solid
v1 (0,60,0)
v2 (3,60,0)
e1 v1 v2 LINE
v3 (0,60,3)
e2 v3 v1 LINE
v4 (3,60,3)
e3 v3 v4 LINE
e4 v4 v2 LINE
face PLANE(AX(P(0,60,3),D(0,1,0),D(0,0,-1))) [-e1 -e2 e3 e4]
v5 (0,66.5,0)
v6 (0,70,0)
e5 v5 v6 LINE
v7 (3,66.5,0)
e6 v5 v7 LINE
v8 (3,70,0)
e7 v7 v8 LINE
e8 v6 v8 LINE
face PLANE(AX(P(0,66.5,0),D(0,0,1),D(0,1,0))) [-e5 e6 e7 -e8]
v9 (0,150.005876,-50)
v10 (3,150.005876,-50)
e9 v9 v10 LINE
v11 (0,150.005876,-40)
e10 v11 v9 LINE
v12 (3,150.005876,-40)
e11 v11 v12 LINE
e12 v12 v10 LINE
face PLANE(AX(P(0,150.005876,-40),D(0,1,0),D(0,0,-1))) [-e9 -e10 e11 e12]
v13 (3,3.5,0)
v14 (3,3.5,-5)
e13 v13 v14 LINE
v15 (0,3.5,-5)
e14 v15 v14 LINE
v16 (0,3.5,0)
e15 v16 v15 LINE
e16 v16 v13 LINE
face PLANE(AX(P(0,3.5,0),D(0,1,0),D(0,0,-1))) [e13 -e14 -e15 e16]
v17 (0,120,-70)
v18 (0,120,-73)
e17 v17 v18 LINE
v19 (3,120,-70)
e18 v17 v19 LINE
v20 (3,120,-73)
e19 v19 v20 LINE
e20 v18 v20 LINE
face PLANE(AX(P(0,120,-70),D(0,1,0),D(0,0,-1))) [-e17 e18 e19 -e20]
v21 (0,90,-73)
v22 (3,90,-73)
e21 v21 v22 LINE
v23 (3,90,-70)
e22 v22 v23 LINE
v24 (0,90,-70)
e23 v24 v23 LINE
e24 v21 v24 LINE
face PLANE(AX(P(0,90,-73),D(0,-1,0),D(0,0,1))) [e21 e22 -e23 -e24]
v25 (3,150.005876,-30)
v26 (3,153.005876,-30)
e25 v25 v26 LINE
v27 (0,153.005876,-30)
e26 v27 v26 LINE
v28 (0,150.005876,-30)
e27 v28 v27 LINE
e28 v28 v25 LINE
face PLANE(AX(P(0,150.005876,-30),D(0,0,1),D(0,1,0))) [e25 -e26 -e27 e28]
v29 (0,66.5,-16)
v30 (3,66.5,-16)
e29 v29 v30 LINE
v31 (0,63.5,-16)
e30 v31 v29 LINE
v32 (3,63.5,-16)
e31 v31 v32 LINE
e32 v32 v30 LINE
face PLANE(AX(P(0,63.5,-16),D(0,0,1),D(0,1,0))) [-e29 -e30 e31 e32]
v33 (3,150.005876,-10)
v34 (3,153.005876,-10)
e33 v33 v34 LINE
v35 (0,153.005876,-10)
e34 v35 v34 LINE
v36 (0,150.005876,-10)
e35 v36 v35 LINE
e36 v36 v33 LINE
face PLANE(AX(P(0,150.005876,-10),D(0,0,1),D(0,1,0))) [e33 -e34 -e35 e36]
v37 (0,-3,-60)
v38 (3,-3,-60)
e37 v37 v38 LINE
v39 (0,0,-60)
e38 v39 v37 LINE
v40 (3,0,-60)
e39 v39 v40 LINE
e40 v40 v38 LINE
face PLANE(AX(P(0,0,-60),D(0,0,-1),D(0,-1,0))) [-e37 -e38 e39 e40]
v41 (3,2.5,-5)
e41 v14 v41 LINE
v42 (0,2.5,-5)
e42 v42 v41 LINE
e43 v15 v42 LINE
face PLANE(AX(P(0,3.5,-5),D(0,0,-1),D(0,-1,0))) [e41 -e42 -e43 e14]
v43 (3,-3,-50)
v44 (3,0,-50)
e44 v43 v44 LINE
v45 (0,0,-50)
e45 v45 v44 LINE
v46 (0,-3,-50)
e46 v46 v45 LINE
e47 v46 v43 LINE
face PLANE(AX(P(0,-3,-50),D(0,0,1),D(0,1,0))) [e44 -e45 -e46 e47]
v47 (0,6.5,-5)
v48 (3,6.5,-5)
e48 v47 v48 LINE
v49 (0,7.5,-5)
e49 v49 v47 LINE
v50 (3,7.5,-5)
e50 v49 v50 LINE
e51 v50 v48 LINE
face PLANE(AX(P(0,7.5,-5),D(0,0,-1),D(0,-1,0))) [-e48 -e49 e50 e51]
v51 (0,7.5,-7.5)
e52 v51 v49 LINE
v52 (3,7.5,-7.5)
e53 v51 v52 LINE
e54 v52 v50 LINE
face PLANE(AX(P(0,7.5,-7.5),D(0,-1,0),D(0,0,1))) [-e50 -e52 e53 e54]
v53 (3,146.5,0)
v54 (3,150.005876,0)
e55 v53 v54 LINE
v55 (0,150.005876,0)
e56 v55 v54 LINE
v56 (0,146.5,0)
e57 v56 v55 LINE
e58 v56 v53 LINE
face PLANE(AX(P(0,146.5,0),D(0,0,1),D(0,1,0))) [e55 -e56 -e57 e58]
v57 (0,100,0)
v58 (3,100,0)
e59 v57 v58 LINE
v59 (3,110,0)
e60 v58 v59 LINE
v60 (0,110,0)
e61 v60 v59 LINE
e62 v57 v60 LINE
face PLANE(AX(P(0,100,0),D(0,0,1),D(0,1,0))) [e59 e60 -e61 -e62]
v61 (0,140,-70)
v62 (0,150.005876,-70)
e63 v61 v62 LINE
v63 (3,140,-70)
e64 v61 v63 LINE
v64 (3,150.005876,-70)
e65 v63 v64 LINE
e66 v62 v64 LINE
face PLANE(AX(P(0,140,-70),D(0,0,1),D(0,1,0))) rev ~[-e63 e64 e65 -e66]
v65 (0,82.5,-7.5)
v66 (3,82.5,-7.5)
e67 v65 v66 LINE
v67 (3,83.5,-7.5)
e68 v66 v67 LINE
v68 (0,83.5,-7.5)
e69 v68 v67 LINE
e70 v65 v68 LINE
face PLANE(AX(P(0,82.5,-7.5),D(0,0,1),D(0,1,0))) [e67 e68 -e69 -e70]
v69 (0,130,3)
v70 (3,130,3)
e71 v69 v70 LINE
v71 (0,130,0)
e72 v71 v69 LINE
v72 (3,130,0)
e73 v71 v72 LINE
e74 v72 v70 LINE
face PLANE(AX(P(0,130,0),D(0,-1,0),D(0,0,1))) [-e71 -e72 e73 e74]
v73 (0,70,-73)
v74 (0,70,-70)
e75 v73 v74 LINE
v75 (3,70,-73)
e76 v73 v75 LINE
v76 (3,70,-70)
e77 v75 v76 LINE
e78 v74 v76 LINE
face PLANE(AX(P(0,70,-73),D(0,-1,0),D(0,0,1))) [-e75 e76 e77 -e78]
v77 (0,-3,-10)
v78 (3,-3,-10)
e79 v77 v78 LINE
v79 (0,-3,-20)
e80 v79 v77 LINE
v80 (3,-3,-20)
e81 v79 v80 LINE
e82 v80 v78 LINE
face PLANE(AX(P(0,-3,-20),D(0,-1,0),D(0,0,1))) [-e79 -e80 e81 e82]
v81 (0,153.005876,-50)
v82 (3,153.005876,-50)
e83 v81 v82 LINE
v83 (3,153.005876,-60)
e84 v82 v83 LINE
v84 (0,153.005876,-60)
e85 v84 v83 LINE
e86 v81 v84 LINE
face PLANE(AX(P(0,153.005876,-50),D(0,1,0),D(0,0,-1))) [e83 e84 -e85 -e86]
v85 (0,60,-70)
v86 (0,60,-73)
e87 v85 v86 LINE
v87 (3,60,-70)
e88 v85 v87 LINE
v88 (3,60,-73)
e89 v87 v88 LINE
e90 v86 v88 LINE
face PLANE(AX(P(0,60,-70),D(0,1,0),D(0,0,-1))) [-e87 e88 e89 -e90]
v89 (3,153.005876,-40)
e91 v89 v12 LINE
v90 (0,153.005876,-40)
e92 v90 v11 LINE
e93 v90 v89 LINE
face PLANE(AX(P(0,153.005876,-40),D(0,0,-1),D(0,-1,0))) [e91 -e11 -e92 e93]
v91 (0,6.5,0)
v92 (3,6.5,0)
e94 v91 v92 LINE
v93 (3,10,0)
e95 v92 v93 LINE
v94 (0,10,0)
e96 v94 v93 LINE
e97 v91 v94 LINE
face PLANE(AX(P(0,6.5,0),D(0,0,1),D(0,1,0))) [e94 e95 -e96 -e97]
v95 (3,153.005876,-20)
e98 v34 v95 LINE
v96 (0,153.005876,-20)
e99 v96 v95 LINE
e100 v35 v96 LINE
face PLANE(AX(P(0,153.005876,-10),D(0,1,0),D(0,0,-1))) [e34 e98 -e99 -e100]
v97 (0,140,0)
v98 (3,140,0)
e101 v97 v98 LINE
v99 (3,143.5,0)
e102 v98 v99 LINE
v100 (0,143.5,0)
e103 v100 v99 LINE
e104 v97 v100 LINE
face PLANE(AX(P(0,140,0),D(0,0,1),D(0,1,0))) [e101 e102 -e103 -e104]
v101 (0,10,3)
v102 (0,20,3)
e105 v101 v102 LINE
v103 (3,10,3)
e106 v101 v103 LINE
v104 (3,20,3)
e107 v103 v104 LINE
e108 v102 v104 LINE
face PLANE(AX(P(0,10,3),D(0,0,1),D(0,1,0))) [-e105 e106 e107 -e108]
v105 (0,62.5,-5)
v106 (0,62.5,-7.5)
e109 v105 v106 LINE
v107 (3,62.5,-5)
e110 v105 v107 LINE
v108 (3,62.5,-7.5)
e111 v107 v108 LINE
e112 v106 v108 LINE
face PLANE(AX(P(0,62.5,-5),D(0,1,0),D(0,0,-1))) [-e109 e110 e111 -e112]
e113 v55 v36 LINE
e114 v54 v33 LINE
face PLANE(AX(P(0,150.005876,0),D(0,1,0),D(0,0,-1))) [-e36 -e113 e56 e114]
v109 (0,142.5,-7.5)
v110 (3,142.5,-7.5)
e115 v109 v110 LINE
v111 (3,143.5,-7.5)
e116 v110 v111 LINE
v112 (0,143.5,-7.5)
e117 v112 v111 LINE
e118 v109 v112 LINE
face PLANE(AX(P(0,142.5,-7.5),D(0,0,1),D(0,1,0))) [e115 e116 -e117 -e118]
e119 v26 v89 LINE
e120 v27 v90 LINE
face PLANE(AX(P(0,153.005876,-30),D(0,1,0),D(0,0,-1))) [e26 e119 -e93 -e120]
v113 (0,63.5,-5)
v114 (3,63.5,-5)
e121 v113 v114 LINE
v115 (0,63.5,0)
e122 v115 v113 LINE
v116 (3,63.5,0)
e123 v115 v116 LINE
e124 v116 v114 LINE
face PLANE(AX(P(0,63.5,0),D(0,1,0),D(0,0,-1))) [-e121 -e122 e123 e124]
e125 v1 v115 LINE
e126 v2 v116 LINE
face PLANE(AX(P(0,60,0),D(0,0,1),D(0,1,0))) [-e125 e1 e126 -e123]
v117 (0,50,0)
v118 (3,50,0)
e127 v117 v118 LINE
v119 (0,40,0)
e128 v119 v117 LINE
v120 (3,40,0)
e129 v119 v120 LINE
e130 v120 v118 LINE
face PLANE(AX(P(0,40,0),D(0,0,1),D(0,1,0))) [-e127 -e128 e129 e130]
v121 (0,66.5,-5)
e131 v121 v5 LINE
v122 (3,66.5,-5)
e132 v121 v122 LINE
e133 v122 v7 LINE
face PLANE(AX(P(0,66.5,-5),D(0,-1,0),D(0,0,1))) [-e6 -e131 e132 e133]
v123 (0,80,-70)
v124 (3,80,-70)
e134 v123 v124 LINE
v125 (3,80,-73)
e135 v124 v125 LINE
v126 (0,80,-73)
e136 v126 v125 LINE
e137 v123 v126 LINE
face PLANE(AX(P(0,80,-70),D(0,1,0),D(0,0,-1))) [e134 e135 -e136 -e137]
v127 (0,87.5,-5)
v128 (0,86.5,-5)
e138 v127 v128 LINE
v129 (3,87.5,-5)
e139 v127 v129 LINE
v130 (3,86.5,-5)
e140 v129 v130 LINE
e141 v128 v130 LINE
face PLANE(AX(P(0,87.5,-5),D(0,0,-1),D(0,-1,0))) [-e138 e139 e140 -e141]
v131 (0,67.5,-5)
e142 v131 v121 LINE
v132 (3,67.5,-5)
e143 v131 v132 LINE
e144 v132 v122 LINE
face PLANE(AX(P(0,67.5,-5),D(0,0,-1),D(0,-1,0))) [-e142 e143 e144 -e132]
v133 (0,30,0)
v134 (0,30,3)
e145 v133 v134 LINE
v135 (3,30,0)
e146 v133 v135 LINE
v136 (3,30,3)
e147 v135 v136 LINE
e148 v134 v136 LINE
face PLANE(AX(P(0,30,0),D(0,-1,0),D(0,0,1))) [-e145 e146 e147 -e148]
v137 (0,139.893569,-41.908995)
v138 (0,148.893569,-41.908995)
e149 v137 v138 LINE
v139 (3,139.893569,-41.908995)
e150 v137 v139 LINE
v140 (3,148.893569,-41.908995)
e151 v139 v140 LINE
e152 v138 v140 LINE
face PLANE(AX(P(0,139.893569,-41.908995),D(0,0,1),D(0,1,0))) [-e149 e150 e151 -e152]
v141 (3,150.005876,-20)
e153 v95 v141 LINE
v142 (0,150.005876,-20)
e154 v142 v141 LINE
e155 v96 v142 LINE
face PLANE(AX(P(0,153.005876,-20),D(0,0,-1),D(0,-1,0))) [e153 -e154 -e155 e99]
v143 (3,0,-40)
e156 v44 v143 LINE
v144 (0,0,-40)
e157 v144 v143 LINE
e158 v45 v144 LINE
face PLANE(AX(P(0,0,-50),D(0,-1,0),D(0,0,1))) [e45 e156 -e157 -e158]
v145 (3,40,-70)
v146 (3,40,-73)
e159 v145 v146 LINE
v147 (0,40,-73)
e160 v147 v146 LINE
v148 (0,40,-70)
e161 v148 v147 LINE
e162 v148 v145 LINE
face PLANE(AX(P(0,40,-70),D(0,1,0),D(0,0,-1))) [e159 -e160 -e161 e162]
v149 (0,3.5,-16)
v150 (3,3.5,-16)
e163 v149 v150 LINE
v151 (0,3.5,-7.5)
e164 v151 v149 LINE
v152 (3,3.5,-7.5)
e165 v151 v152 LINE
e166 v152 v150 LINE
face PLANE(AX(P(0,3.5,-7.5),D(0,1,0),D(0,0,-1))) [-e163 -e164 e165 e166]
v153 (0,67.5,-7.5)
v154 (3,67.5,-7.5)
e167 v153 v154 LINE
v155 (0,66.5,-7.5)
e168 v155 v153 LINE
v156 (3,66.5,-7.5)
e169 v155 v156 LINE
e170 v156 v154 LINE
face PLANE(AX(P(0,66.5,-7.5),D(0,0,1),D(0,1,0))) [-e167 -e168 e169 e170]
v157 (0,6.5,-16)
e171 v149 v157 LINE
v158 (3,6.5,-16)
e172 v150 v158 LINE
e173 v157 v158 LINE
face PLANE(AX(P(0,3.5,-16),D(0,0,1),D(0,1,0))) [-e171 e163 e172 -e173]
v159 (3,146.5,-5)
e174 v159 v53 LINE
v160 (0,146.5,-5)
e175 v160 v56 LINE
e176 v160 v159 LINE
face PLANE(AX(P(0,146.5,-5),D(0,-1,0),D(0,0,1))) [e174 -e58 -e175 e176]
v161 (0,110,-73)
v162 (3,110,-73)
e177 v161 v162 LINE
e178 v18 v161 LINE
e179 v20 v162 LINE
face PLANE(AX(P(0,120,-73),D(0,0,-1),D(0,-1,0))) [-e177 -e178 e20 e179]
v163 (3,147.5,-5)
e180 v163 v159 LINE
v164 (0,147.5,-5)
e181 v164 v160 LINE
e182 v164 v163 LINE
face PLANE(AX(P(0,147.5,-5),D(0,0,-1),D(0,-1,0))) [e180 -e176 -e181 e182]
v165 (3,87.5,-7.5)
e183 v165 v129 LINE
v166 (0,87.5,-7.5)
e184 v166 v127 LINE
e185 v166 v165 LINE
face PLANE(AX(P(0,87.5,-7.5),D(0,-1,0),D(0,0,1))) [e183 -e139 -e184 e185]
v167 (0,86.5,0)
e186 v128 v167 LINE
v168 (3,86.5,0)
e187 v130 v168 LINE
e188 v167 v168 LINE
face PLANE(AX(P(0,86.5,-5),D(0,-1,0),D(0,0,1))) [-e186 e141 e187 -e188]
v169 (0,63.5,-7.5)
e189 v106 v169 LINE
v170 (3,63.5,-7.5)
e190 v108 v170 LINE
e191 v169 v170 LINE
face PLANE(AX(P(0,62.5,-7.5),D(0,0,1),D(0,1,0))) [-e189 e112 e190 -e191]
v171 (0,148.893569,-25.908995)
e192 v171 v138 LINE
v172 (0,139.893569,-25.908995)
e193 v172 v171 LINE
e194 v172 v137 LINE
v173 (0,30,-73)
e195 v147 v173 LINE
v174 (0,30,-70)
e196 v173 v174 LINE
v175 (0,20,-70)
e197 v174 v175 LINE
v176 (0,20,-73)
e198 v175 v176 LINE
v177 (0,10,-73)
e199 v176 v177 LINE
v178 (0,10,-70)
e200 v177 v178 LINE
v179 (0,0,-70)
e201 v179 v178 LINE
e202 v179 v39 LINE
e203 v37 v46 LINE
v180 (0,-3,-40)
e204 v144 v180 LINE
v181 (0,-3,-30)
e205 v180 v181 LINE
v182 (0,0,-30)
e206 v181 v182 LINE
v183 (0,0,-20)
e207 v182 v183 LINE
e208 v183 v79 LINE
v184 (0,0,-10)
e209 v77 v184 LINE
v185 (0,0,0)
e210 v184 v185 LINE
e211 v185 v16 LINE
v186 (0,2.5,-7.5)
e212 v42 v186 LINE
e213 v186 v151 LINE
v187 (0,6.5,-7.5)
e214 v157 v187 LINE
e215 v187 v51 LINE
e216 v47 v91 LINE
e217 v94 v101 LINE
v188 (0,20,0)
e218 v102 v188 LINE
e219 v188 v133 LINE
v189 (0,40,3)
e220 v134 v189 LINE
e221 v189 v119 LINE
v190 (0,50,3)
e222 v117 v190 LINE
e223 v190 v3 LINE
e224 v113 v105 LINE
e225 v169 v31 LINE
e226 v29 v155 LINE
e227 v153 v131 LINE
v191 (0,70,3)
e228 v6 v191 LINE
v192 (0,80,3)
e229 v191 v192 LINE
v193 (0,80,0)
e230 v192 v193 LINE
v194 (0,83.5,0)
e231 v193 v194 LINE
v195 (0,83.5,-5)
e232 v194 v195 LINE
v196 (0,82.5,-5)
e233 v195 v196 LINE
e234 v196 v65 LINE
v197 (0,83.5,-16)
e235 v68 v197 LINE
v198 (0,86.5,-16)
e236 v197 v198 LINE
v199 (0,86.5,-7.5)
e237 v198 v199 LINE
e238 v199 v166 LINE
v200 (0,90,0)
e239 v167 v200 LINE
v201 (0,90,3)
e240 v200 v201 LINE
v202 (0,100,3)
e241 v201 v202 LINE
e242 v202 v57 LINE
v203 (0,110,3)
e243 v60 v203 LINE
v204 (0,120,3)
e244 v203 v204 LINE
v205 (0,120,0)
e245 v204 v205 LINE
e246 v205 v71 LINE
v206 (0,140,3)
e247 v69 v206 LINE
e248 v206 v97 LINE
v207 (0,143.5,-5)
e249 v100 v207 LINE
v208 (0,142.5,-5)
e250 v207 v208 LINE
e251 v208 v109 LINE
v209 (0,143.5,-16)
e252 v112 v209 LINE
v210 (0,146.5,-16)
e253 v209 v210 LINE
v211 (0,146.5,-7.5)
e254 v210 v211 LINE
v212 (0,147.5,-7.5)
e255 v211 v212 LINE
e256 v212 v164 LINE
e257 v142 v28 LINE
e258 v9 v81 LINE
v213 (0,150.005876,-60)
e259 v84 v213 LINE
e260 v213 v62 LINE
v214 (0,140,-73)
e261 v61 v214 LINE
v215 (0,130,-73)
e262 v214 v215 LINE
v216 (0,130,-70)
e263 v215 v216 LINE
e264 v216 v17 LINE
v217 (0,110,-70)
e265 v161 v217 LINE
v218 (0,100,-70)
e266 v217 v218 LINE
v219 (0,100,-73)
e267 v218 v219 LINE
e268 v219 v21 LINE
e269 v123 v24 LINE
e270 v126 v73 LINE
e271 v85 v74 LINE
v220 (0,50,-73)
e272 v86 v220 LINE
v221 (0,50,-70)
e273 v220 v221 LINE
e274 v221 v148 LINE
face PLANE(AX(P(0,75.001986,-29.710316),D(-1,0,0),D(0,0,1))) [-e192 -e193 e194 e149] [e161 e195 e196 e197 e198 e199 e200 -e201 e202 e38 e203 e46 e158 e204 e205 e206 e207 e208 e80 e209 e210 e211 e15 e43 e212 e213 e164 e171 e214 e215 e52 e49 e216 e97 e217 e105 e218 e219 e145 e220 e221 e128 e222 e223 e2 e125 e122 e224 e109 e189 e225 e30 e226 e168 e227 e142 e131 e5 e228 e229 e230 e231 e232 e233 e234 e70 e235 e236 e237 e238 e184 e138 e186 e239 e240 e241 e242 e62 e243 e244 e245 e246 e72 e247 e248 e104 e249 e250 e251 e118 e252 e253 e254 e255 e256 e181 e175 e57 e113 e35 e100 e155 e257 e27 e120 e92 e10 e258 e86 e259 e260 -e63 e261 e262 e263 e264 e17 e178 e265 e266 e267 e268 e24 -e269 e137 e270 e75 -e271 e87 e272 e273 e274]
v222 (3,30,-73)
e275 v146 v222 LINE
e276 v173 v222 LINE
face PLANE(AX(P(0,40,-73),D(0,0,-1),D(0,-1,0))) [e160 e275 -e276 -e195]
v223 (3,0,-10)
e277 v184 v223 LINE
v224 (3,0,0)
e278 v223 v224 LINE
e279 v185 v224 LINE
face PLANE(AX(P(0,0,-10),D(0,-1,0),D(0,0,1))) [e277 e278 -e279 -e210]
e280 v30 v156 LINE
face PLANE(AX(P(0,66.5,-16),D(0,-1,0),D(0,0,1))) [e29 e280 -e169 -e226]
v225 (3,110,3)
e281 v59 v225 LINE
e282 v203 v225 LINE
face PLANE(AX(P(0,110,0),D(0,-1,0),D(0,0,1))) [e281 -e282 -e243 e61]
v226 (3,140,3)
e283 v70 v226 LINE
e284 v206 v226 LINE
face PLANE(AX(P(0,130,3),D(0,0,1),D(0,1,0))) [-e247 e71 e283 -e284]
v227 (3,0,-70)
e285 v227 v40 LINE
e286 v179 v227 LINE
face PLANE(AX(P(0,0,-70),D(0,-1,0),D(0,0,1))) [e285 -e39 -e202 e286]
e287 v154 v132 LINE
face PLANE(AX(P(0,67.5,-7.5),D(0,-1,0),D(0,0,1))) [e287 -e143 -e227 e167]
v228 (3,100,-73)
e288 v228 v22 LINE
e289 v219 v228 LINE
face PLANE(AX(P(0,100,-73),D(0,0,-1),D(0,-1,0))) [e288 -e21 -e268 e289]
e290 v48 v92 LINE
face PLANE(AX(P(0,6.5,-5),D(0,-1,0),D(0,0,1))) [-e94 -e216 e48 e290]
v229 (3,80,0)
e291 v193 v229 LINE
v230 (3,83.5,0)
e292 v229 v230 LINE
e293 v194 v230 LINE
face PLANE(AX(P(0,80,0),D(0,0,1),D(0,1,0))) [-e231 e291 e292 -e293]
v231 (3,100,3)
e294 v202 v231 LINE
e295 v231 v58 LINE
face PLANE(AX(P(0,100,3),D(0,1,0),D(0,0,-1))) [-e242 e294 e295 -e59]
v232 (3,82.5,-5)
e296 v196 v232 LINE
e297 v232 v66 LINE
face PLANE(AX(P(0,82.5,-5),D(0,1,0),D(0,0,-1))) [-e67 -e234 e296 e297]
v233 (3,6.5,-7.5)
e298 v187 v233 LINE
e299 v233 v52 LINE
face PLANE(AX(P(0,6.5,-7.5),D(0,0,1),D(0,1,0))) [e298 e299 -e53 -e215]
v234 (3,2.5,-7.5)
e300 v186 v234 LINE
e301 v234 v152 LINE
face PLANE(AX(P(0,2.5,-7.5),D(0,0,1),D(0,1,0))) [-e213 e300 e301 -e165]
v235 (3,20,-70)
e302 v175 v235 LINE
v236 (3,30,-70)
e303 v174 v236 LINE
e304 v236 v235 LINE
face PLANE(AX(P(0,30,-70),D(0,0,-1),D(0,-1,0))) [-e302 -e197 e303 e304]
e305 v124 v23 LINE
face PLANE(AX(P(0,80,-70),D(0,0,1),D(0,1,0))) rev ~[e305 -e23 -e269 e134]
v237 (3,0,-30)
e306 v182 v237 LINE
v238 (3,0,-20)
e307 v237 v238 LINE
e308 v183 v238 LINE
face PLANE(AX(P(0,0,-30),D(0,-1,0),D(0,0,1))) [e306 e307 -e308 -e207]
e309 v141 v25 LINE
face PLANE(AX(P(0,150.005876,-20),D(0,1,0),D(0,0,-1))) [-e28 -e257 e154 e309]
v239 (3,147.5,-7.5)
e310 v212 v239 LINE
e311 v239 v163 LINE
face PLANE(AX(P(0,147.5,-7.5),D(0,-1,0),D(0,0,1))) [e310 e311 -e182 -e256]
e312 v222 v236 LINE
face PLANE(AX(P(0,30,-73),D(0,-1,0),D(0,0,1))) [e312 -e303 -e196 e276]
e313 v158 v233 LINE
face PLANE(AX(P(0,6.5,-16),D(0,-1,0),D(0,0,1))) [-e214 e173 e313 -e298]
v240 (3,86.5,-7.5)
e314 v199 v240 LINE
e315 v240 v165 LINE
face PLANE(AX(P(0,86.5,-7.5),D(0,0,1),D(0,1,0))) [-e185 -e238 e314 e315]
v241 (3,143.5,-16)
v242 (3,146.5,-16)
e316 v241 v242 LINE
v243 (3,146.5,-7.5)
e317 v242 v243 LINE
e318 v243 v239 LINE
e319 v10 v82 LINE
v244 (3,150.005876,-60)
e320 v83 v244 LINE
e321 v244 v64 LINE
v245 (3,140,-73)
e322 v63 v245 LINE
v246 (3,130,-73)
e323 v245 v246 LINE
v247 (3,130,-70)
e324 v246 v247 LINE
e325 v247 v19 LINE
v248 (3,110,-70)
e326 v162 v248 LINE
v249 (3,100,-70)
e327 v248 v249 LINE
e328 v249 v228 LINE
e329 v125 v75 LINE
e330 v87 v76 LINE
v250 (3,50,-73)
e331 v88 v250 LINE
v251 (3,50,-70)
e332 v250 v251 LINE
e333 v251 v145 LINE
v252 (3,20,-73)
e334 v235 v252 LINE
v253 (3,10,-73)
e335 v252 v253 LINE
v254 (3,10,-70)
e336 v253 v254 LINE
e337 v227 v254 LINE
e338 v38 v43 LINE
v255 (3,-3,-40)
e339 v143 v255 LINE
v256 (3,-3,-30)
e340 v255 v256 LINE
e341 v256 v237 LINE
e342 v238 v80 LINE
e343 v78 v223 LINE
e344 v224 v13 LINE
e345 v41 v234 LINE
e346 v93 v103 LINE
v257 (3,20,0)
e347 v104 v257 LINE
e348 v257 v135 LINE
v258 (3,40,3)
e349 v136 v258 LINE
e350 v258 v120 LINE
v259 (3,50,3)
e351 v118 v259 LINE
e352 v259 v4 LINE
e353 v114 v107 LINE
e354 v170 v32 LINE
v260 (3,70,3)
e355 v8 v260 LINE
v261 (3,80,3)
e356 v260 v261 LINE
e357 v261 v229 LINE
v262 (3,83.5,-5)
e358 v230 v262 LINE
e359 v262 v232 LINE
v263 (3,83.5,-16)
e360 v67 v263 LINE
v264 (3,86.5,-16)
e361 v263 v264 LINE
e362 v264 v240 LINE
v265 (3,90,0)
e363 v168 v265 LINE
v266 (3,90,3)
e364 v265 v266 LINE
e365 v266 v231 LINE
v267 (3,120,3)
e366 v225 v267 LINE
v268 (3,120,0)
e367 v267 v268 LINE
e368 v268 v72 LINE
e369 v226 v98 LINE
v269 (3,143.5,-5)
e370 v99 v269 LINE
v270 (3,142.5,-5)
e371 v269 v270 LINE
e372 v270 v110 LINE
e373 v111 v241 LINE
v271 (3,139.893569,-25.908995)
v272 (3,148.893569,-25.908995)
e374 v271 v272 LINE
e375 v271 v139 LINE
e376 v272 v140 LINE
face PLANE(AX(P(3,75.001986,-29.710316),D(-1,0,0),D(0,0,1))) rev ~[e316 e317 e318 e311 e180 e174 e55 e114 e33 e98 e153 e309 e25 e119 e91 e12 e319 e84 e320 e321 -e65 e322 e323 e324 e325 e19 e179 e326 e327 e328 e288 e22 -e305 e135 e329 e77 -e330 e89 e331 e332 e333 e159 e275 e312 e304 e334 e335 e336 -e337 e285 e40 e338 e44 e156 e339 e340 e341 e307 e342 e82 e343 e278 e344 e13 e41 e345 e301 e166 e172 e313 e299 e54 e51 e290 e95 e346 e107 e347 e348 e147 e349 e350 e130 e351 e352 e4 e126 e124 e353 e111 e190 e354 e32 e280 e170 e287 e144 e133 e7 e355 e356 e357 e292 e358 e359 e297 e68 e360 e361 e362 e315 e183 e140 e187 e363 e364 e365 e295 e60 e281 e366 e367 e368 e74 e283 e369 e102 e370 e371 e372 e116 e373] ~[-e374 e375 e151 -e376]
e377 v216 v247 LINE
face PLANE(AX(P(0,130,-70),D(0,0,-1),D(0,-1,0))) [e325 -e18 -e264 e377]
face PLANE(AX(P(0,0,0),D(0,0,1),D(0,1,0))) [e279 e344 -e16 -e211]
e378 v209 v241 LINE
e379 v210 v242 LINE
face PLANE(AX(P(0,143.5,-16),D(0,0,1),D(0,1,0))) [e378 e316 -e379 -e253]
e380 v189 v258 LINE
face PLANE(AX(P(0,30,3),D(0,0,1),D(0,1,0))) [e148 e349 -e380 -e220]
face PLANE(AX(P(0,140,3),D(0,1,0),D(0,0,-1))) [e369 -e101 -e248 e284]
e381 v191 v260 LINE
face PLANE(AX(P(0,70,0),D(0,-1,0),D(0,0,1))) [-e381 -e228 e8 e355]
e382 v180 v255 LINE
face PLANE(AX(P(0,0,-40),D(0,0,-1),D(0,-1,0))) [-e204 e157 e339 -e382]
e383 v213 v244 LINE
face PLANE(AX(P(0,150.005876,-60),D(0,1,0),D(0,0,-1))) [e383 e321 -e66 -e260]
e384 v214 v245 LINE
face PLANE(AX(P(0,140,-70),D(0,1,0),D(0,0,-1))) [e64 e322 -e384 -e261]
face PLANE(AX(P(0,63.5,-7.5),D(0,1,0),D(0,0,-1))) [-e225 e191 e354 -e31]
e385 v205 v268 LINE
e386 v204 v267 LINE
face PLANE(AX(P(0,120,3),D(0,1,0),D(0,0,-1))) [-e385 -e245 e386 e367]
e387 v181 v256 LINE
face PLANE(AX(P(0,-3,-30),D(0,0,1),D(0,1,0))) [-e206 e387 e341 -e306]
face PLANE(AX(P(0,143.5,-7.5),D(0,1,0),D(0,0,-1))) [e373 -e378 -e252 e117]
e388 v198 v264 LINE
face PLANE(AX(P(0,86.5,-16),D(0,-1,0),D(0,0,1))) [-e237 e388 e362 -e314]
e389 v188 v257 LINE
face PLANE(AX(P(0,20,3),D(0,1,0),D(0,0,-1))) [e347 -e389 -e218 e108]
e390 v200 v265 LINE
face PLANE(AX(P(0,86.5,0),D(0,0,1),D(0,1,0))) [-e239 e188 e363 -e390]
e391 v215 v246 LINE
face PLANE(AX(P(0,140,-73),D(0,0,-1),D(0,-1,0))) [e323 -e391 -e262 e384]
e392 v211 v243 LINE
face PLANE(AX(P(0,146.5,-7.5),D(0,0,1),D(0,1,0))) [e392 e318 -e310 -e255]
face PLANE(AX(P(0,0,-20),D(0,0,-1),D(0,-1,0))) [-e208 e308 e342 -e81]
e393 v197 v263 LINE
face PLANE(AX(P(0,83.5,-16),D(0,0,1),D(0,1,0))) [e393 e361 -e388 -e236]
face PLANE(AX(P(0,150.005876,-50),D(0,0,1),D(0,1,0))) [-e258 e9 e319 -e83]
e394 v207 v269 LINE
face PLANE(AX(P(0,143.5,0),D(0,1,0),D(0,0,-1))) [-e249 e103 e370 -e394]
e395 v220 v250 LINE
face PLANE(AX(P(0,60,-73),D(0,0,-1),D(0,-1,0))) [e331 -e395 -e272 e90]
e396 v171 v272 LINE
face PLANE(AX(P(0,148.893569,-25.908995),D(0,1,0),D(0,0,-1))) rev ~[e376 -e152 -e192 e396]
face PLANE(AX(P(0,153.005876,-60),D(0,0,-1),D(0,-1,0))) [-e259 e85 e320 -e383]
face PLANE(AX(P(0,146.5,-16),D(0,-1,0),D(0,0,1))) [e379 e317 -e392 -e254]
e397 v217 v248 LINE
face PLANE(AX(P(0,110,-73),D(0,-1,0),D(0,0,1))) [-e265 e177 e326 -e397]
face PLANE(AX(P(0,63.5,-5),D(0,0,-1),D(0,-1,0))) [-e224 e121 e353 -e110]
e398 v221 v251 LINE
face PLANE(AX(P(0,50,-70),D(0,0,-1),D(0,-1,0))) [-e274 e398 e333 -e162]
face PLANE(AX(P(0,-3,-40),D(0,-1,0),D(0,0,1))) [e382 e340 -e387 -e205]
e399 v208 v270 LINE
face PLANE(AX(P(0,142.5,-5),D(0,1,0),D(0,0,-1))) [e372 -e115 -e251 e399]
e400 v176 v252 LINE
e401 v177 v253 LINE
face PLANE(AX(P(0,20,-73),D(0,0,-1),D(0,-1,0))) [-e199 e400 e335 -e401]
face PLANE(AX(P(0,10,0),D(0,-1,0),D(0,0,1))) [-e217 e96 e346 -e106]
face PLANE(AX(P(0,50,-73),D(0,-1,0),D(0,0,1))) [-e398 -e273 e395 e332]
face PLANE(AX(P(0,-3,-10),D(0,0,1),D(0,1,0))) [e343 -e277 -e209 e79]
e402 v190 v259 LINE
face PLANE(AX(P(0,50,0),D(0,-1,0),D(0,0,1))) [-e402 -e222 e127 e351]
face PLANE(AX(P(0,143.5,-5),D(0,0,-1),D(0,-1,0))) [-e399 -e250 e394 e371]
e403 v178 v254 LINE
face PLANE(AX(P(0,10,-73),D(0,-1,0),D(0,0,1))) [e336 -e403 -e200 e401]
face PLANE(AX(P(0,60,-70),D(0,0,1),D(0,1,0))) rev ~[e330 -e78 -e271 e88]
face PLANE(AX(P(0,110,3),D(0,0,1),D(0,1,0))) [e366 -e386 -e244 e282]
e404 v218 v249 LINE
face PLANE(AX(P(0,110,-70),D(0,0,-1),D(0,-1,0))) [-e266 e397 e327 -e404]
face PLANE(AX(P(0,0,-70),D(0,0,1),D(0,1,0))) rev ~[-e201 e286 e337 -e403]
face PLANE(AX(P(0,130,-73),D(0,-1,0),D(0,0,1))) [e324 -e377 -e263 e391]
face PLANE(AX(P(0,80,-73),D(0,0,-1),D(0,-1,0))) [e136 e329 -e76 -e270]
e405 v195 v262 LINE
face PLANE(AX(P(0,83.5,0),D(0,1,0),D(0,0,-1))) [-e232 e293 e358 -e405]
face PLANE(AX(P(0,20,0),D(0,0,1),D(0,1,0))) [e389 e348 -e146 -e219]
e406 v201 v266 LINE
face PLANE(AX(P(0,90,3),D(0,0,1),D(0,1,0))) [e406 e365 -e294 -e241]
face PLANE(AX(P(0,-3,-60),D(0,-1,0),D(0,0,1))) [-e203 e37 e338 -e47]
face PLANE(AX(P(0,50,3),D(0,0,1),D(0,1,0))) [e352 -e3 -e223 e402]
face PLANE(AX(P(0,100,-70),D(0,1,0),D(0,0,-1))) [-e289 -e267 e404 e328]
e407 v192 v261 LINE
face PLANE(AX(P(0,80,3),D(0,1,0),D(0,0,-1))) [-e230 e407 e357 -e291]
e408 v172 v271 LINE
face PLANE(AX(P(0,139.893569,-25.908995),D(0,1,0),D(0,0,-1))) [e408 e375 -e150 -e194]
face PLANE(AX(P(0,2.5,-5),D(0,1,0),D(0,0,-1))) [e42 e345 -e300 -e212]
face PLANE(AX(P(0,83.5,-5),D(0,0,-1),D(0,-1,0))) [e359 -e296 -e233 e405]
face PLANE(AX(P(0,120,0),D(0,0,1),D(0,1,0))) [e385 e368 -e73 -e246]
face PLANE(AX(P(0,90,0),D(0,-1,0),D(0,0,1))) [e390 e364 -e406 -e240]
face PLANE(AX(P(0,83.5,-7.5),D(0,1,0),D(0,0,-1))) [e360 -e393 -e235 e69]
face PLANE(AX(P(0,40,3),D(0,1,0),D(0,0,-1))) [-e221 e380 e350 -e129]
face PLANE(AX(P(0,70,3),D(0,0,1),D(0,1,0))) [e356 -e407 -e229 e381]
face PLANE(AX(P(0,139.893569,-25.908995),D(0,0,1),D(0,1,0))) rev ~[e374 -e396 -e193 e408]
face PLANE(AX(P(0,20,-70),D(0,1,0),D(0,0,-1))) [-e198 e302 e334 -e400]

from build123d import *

# Parameters (mm, degrees)
SKETCH1_W           = 16
SKETCH1_H           = 9
BOSS_EXTRUDE1_DEPTH = 3


with BuildPart() as part:
    # Sketch1 → Boss-Extrude1 (new body)
    with BuildSketch(Plane(origin=(0, 0, 0), x_dir=(0, 0, -1), z_dir=(1, 0, 0))):
        Polygon((10, 153.005875518), (20, 153.005875518), (20, 150.005875518), (30, 150.005875518), (30, 153.005875518), (40, 153.005875518), (40, 150.005875518), (50, 150.005875518), (50, 153.005875518), (60, 153.005875518), (60, 150.005875518), (70, 150.005875518), (70, 146.5), (70, 143.5), (70, 140), (73, 140), (73, 130), (70, 130), (70, 120), (73, 120), (73, 110), (70, 110), (70, 100), (73, 100), (73, 90), (70, 90), (70, 83.5), (70, 80), (73, 80), (73, 70), (70, 70), (70, 66.5), (70, 63.5), (70, 60), (73, 60), (73, 50), (70, 50), (70, 40), (73, 40), (73, 30), (70, 30), (70, 20), (73, 20), (73, 10), (70, 10), (70, 6.5), (70, 3.5), (70, 0), (60, 0), (60, -3), (50, -3), (50, 0), (40, 0), (40, -3), (30, -3), (30, 0), (20, 0), (20, -3), (10, -3), (10, 0), (0, 0), (0, 3.5), (5, 3.5), (5, 2.5), (7.5, 2.5), (7.5, 3.5), (16, 3.5), (16, 6.5), (7.5, 6.5), (7.5, 7.5), (5, 7.5), (5, 6.5), (0, 6.5), (0, 10), (-3, 10), (-3, 20), (0, 20), (0, 30), (-3, 30), (-3, 40), (0, 40), (0, 50), (-3, 50), (-3, 60), (0, 60), (0, 63.5), (5, 63.5), (5, 62.5), (7.5, 62.5), (7.5, 63.5), (16, 63.5), (16, 66.5), (7.5, 66.5), (7.5, 67.5), (5, 67.5), (5, 66.5), (0, 66.5), (0, 70), (-3, 70), (-3, 80), (0, 80), (0, 83.5), (5, 83.5), (5, 82.5), (7.5, 82.5), (7.5, 83.5), (16, 83.5), (16, 86.5), (7.5, 86.5), (7.5, 87.5), (5, 87.5), (5, 86.5), (0, 86.5), (0, 90), (-3, 90), (-3, 100), (0, 100), (0, 110), (-3, 110), (-3, 120), (0, 120), (0, 130), (-3, 130), (-3, 140), (0, 140), (0, 143.5), (5, 143.5), (5, 142.5), (7.5, 142.5), (7.5, 143.5), (16, 143.5), (16, 146.5), (7.5, 146.5), (7.5, 147.5), (5, 147.5), (5, 146.5), (0, 146.5), (0, 150.005875518), (10, 150.005875518), align=None)
        with Locations((33.90899457, 144.39356925)):
            Rectangle(SKETCH1_W, SKETCH1_H, mode=Mode.SUBTRACT)
    extrude(amount=BOSS_EXTRUDE1_DEPTH)


solid = part.part
